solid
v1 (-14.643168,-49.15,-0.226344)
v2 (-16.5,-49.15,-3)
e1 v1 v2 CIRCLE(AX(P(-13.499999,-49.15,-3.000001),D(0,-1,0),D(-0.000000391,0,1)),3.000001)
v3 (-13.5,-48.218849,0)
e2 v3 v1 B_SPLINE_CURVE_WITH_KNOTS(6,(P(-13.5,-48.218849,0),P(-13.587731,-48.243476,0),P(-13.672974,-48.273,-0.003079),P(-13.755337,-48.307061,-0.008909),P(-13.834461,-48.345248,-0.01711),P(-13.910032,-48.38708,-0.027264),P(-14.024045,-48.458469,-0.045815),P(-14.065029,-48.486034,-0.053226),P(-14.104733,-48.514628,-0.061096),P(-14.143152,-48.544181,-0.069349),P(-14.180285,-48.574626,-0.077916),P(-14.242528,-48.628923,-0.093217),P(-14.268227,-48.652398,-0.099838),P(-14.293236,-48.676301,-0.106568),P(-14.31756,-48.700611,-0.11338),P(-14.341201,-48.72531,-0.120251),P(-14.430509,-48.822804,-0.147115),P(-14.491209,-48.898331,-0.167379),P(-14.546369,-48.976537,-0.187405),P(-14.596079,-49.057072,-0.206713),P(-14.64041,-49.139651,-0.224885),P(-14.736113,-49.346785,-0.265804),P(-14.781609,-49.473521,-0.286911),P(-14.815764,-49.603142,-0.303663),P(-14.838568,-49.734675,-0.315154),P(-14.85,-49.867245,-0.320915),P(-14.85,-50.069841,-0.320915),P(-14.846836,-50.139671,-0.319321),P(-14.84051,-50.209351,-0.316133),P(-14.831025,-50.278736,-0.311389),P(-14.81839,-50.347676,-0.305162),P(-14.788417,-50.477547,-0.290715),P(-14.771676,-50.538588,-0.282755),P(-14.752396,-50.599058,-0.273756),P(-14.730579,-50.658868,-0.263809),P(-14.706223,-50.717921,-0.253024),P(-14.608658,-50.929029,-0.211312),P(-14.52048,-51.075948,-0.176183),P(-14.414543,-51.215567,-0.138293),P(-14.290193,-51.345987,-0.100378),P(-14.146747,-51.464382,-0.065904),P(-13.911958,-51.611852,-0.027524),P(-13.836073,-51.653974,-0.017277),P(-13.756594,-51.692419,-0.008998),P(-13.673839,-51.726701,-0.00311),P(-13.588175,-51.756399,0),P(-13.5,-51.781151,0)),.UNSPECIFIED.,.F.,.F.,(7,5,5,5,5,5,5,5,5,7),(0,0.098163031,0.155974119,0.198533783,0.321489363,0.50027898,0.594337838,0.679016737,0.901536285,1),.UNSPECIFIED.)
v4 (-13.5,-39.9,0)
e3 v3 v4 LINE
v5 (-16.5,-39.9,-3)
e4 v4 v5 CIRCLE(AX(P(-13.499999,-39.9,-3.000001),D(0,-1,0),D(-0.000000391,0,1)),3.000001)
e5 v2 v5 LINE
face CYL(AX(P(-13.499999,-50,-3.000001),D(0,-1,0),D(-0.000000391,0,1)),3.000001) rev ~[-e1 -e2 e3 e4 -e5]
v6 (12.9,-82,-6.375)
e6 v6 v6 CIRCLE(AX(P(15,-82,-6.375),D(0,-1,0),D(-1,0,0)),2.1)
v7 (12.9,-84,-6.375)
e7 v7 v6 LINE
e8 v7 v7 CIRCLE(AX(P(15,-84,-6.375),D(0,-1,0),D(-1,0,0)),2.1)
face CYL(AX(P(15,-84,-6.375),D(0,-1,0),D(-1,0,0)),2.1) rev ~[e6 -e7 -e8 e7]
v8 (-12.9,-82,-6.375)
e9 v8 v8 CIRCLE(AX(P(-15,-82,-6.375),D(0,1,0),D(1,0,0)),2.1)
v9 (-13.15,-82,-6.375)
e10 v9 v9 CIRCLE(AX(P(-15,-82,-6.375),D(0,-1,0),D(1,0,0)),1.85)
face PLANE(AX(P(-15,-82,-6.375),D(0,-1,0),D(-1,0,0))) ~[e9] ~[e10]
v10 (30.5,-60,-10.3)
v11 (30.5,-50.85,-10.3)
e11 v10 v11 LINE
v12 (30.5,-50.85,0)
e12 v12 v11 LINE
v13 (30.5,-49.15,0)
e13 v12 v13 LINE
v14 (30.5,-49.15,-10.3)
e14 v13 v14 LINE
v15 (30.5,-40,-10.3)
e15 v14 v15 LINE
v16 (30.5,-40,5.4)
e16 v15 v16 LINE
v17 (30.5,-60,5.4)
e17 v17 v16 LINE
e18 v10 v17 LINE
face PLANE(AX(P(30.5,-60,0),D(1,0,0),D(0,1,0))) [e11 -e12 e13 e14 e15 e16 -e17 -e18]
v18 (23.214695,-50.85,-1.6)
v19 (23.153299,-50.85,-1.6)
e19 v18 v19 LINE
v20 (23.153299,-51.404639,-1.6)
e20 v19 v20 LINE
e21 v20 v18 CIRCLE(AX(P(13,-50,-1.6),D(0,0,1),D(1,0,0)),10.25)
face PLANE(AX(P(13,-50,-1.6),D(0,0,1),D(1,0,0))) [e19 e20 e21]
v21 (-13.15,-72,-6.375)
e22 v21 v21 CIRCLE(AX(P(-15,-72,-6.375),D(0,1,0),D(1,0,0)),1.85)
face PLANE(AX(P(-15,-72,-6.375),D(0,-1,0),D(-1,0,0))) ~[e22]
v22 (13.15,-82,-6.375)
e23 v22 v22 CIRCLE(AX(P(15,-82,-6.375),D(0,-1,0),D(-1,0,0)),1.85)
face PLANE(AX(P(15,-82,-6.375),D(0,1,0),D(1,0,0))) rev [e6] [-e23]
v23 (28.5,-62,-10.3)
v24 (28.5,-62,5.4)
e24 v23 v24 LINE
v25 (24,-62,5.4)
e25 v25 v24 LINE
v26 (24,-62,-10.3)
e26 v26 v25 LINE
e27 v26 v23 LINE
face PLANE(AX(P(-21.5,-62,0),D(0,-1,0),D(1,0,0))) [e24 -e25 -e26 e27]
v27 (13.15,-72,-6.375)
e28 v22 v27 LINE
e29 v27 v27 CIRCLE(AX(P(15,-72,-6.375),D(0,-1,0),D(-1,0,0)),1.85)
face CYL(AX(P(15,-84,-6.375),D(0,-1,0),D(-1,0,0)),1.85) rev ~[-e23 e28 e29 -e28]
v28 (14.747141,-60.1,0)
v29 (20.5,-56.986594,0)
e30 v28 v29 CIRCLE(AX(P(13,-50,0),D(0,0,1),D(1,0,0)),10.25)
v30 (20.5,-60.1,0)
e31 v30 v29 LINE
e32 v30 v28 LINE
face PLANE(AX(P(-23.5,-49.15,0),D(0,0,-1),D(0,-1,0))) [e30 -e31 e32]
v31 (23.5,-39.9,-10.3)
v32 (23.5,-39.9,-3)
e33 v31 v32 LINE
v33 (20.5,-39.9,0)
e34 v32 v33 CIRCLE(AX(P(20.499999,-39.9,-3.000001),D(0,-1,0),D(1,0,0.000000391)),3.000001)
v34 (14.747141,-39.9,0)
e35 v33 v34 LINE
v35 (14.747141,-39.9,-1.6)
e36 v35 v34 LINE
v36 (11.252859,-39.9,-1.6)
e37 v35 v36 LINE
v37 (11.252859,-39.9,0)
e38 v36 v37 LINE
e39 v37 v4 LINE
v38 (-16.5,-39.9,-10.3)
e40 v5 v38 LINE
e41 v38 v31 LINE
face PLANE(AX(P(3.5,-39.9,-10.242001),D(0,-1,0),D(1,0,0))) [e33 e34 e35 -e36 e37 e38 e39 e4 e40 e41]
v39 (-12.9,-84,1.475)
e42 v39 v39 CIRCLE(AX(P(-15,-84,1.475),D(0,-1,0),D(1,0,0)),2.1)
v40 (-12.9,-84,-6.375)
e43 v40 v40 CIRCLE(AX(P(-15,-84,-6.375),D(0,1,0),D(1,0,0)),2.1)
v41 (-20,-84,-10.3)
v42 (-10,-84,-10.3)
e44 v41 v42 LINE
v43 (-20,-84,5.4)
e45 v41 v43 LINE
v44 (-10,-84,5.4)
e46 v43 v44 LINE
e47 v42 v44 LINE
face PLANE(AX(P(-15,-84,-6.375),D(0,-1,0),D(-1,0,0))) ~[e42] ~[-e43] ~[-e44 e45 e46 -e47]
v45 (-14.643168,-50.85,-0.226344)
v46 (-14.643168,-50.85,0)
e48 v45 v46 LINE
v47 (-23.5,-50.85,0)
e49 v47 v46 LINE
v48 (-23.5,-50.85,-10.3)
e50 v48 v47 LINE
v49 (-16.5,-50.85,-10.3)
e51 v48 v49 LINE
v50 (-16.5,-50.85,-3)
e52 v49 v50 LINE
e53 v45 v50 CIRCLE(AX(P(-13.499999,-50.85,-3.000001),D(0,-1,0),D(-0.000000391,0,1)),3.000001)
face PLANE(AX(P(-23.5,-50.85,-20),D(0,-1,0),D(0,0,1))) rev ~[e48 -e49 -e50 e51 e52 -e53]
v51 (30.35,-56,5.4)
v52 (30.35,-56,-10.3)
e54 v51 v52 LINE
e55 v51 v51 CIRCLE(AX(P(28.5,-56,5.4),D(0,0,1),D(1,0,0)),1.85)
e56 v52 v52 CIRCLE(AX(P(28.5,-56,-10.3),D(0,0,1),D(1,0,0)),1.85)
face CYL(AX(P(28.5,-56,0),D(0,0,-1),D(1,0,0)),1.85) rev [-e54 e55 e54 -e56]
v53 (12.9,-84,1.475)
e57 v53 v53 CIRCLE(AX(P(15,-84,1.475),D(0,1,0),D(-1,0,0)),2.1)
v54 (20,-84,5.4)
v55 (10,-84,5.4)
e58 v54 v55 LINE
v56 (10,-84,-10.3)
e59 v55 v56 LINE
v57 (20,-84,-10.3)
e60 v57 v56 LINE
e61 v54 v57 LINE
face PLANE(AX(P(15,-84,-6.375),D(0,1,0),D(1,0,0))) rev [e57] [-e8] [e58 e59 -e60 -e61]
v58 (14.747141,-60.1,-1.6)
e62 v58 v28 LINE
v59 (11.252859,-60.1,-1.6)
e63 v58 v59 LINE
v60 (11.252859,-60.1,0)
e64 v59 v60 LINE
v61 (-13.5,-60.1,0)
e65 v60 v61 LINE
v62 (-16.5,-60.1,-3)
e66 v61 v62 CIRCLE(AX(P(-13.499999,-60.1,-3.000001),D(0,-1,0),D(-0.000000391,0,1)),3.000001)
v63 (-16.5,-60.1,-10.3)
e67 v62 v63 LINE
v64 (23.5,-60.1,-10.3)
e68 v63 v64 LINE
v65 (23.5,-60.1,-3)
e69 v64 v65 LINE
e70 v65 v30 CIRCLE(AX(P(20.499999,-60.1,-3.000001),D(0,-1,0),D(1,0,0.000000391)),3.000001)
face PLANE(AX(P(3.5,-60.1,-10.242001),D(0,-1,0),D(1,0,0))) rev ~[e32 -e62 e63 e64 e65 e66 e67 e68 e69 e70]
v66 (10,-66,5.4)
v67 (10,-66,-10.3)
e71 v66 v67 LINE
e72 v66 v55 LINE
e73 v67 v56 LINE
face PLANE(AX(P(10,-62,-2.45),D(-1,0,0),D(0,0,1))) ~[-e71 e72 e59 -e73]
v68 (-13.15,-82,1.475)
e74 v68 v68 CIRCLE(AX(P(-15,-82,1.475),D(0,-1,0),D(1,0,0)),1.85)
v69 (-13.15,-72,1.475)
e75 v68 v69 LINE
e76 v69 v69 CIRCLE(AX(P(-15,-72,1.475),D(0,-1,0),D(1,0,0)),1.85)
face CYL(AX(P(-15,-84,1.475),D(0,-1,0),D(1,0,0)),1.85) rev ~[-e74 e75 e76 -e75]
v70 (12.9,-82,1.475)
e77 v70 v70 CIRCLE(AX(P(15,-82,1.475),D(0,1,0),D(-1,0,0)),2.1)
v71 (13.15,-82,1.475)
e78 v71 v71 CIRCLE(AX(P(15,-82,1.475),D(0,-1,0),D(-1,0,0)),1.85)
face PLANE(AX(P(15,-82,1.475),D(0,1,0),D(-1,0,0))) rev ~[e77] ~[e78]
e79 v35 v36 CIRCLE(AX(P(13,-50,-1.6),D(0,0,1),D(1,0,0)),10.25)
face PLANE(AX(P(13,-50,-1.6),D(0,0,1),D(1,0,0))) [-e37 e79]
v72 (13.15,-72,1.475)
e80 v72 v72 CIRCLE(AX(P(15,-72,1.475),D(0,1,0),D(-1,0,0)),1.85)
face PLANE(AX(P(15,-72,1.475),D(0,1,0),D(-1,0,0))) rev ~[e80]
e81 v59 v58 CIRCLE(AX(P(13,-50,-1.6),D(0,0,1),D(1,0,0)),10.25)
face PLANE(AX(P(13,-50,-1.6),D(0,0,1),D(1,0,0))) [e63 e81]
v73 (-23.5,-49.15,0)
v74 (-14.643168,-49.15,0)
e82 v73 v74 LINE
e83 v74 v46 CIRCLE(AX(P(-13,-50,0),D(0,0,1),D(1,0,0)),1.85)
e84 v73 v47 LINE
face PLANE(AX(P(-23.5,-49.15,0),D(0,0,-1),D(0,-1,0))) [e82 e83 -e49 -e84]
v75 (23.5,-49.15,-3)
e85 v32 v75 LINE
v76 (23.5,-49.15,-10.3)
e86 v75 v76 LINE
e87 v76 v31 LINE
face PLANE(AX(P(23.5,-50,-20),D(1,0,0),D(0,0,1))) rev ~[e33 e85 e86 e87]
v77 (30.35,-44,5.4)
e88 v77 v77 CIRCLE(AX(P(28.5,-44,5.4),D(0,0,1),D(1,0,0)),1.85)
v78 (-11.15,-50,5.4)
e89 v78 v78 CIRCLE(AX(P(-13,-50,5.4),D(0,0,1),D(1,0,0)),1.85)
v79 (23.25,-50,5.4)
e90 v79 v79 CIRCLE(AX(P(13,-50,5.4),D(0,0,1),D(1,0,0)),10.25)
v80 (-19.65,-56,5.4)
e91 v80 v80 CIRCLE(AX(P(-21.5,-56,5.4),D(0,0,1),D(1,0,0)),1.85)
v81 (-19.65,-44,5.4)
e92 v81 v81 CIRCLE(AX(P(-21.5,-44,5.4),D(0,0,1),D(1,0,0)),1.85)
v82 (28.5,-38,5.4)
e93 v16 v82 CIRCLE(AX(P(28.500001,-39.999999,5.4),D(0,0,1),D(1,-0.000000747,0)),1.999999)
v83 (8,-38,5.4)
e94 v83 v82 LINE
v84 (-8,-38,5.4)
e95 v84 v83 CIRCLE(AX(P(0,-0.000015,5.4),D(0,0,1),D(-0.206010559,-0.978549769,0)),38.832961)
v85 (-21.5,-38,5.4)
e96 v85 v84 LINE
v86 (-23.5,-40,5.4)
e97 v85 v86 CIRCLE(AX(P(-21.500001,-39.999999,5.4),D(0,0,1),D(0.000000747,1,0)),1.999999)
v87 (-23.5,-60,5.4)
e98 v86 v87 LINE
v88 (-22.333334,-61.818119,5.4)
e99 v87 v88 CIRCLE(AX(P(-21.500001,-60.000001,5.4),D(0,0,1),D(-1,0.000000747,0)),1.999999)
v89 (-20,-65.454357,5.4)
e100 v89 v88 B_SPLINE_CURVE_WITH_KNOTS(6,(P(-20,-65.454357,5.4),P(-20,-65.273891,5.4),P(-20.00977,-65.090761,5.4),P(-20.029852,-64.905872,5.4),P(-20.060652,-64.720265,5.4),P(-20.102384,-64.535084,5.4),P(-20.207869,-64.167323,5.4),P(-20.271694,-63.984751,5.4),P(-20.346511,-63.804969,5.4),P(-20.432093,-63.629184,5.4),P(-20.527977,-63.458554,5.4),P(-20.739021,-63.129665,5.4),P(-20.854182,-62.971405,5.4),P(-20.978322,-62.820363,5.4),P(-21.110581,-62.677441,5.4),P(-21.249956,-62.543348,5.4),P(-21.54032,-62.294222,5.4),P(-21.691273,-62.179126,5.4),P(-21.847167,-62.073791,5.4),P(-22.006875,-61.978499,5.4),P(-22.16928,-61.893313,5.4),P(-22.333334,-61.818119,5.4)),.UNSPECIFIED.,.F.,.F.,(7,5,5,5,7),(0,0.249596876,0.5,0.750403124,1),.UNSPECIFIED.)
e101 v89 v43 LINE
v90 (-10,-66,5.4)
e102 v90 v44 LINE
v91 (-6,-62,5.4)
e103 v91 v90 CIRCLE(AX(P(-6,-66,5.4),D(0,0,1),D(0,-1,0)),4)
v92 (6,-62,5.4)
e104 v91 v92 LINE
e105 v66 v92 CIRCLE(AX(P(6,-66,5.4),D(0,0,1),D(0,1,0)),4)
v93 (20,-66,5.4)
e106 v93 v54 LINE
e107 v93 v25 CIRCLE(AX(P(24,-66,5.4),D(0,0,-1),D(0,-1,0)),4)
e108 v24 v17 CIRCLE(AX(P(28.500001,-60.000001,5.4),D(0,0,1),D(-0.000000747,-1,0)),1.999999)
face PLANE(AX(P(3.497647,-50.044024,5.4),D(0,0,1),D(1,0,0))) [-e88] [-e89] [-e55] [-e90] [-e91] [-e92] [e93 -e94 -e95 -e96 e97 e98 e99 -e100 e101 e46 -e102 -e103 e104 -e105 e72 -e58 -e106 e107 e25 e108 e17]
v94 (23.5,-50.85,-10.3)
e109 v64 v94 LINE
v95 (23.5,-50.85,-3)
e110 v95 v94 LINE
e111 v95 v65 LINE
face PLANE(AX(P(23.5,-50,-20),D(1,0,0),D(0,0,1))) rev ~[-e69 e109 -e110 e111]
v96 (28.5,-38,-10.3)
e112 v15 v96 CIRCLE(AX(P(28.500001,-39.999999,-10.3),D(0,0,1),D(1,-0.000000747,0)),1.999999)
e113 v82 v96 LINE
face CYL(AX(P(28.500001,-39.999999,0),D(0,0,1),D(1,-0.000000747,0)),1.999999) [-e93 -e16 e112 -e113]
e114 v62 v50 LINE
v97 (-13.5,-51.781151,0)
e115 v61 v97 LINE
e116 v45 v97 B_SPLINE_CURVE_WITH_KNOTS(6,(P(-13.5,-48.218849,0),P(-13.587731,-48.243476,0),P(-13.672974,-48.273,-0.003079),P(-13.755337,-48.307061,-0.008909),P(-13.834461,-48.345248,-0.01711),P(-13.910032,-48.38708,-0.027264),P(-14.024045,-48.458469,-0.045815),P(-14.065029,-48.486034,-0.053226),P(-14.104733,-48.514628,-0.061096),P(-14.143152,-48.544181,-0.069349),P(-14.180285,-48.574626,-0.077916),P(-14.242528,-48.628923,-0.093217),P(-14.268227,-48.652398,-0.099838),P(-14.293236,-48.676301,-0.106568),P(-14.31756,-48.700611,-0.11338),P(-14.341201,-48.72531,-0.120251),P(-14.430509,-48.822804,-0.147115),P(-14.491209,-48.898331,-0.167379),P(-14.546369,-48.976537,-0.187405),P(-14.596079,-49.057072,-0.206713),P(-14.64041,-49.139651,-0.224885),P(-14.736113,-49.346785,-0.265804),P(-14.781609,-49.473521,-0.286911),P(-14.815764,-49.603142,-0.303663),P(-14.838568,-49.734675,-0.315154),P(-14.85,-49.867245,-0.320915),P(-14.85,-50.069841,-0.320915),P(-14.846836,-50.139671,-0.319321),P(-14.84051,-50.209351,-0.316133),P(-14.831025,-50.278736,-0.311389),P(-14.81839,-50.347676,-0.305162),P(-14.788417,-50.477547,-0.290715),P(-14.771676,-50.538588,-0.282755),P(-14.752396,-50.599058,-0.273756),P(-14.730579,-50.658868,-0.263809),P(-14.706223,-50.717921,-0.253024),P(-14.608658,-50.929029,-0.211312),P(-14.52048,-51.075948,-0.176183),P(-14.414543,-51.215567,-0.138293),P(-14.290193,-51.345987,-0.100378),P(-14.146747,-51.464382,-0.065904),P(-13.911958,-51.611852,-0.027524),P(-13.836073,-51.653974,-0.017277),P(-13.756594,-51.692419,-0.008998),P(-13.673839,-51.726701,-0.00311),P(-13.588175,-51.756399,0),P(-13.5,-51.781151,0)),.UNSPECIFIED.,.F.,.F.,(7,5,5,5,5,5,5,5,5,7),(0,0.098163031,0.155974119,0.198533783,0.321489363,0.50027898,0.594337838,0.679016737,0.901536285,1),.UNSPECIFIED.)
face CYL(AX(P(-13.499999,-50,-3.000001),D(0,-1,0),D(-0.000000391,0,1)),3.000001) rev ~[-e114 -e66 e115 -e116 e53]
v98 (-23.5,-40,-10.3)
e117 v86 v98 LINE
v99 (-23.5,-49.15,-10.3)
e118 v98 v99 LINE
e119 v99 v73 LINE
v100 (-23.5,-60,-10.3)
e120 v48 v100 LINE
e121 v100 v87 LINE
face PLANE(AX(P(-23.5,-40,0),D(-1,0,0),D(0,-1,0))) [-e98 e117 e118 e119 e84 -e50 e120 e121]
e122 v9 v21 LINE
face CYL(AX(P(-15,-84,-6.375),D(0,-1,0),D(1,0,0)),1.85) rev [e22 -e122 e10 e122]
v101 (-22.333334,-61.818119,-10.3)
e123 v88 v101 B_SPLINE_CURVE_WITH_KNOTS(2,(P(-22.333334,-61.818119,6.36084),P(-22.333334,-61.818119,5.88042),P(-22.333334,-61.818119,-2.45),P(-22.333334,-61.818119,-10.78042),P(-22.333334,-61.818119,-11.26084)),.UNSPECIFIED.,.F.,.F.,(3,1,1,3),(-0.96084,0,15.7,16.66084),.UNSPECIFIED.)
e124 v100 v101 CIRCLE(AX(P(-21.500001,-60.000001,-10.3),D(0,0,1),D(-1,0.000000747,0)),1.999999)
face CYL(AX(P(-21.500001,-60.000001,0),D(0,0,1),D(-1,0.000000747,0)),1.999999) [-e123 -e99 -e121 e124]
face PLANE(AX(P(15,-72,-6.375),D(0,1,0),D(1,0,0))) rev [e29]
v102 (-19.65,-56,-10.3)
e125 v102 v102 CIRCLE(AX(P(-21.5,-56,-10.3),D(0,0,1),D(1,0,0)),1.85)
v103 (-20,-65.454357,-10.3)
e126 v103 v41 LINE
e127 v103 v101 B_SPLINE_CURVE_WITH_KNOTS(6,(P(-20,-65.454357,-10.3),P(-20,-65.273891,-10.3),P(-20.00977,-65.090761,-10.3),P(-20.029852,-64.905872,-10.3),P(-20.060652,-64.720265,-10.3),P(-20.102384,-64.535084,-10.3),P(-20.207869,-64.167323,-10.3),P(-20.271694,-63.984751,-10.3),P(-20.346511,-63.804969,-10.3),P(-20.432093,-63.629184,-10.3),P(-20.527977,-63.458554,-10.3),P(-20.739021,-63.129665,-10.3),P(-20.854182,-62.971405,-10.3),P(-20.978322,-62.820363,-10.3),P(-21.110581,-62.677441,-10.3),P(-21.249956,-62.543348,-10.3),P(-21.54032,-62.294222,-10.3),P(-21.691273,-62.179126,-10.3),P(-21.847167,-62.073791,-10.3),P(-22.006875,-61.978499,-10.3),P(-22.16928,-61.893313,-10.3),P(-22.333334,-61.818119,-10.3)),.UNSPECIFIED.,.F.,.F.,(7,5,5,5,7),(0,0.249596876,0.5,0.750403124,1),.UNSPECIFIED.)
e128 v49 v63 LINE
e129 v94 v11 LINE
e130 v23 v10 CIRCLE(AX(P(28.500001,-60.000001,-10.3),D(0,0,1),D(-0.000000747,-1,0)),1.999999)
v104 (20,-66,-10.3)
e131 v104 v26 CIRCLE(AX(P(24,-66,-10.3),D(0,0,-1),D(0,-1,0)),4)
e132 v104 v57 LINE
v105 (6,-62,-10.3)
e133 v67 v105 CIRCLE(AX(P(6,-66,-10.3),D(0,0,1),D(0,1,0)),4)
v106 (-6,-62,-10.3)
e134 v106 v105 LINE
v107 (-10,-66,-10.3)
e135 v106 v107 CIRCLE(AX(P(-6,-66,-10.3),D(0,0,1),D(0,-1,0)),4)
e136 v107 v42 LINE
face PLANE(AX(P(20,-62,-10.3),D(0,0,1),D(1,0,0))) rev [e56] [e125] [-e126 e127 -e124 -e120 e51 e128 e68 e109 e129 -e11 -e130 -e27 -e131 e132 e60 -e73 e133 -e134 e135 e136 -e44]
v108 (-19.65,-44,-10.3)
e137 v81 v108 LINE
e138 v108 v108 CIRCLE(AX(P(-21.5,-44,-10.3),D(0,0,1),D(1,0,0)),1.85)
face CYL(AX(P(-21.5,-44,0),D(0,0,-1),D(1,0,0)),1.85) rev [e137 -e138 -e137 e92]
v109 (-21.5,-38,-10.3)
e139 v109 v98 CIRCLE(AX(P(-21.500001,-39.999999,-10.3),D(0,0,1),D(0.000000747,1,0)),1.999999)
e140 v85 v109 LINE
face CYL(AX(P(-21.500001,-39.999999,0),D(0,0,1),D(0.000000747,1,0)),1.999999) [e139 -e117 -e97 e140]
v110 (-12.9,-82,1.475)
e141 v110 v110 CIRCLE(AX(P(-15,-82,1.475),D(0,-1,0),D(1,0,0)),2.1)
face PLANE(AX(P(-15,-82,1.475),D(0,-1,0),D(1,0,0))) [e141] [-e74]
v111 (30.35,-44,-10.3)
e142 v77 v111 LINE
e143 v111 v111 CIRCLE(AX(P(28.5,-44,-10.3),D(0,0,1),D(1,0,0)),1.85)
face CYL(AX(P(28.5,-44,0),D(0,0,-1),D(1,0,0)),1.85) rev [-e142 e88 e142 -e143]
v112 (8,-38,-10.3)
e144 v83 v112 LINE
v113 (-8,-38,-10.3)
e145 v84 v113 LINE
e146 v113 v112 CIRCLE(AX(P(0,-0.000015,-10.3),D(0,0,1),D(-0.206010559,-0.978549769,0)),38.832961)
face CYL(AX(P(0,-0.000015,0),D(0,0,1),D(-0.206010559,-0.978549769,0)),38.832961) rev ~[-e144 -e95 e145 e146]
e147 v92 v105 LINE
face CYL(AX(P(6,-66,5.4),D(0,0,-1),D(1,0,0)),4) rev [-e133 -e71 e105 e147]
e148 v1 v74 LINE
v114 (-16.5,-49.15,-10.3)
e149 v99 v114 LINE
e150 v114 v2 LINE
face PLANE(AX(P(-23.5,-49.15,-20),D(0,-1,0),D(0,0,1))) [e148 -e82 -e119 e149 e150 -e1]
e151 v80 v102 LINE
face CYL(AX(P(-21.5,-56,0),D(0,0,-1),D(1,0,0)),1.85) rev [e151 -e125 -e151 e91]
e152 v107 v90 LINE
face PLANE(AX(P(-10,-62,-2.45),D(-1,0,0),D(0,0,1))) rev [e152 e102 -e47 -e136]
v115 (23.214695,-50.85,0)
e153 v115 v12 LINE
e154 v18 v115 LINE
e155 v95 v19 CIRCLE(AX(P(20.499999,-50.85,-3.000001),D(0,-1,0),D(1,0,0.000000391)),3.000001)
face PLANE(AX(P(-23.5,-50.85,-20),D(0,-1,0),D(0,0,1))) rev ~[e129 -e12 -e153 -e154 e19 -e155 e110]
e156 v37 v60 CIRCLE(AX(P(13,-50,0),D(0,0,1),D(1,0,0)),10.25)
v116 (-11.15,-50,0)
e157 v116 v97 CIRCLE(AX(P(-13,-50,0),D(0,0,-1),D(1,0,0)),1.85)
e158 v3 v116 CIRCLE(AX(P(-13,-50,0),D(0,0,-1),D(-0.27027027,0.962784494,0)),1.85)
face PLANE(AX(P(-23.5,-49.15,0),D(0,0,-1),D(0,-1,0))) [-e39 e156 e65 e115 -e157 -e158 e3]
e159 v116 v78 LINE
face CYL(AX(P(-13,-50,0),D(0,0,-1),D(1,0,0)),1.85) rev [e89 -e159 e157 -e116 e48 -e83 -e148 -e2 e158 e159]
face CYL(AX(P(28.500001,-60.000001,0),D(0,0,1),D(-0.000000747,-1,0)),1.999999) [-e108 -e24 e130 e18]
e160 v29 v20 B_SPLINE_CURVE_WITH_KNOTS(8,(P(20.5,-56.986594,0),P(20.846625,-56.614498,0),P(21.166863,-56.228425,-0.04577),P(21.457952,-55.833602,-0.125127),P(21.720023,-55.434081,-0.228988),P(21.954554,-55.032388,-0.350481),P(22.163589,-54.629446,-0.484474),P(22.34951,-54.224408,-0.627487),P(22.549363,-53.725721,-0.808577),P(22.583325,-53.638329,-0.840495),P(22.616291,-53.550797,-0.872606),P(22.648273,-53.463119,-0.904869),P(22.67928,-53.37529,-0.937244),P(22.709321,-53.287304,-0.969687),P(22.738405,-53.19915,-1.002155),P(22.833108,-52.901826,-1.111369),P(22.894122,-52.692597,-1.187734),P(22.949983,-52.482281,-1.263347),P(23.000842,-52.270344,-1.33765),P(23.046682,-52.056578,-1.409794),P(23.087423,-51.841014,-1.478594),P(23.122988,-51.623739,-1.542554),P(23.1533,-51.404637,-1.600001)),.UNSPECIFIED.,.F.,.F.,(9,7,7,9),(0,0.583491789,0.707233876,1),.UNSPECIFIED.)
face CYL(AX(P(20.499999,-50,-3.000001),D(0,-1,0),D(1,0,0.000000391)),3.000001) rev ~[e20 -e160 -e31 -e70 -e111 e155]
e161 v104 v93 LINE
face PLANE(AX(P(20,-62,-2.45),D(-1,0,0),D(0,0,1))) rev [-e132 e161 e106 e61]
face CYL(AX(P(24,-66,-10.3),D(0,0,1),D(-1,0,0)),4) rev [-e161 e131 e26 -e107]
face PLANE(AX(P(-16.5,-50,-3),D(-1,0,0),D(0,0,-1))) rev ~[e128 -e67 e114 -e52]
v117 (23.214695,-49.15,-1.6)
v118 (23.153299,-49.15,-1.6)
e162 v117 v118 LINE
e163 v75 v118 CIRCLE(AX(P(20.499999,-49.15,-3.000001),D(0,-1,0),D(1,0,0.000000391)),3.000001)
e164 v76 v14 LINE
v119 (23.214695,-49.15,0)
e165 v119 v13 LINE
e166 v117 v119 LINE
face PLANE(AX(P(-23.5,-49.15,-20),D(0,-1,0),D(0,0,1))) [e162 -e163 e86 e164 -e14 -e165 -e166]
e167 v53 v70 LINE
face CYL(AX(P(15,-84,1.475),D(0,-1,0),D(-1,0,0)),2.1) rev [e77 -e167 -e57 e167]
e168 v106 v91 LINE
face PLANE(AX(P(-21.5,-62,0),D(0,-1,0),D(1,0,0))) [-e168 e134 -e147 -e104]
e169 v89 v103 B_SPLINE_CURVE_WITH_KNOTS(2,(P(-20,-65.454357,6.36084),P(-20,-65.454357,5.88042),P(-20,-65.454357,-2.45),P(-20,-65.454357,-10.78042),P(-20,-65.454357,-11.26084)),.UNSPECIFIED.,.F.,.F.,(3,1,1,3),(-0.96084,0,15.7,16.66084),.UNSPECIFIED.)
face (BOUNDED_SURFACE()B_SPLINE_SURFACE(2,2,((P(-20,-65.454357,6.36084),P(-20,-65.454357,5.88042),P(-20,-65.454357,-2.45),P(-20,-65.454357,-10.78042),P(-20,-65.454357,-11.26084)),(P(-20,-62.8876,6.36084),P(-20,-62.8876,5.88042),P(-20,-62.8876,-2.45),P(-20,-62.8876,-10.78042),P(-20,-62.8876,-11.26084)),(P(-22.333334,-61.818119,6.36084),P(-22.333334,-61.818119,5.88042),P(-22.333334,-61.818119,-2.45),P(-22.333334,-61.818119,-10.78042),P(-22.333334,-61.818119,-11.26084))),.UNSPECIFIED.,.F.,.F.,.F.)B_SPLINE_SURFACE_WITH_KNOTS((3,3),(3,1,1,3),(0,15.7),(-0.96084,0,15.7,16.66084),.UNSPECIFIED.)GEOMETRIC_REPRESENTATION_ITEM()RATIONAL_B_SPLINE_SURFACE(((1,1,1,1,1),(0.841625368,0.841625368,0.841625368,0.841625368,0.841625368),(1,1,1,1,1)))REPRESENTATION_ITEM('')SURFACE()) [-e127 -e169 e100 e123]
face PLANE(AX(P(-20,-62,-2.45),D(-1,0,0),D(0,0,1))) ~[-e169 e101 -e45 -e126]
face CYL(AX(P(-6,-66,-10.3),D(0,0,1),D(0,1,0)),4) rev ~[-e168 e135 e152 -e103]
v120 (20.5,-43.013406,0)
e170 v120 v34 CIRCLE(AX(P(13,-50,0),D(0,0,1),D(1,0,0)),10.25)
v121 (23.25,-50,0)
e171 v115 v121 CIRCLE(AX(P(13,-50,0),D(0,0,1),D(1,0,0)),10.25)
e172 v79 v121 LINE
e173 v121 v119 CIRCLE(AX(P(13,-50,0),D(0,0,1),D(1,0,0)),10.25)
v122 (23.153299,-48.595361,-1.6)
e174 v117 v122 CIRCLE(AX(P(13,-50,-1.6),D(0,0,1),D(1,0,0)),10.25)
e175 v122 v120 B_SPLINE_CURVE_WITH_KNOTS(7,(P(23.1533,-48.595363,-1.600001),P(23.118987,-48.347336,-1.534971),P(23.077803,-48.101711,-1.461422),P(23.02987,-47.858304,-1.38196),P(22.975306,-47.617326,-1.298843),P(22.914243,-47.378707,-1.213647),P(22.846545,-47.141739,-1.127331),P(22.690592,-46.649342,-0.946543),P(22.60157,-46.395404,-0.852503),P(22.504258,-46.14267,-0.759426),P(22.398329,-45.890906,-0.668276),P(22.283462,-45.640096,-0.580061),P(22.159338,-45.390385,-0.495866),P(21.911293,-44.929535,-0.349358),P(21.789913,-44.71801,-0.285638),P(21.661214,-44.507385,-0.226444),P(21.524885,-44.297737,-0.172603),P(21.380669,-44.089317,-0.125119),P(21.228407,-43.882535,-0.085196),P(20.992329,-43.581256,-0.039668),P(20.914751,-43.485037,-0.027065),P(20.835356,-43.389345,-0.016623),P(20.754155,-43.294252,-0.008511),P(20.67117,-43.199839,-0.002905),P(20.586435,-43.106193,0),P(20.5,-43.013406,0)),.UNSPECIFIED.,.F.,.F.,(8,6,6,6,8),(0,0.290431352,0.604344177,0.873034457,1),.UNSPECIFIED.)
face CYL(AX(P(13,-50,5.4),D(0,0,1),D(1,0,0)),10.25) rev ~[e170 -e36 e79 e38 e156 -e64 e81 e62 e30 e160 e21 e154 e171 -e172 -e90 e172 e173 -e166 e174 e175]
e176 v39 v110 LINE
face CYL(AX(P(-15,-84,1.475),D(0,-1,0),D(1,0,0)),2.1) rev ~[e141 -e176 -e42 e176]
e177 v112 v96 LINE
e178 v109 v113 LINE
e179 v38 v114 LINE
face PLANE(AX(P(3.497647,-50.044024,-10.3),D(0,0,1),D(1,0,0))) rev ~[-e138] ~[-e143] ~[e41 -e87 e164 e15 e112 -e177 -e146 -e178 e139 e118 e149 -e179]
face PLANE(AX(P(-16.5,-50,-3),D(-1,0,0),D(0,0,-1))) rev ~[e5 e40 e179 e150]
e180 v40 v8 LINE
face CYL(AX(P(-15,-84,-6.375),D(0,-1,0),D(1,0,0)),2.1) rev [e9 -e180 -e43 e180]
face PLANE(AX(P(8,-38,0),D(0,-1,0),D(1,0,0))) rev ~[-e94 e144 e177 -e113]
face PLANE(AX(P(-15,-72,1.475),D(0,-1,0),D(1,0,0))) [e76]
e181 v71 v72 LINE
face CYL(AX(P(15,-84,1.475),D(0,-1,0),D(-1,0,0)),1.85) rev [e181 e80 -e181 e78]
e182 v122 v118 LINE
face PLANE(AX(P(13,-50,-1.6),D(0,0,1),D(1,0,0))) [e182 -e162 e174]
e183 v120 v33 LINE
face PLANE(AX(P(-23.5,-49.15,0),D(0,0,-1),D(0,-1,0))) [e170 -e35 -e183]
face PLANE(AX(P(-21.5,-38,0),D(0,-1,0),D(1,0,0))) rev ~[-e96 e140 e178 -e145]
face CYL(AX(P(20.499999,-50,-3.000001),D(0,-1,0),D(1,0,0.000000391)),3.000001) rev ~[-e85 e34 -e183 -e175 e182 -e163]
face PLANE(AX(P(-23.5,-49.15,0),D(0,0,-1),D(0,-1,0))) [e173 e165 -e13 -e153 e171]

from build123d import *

# Parameters (mm, degrees)
SKETCH035_R                   = 7
SKETCH035_R_2                 = 1.85
PAD021_DEPTH                  = 5.4
PAD021_DEPTH_BACK             = 10.3
POCKET019_DEPTH               = 10.1
SKETCH039_W                   = 1.7
SKETCH039_H                   = 20
POCKET020_DEPTH               = 54.001
SKETCH043_R                   = 10.25
POCKET023_DEPTH               = 7
SKETCH044_W                   = 10
SKETCH044_H                   = 7.85
PAD025_DEPTH                  = 22
SKETCH045_R                   = 1.85
POCKET024_DEPTH               = 12
SKETCH046_R                   = 2.1
POCKET025_DEPTH               = 2
SKETCH044_MIRRORED002_2_W     = 10
SKETCH044_MIRRORED002_2_H     = 7.85
PAD025_MIRRORED002_2_DEPTH    = 22
SKETCH045_MIRRORED002_2_R     = 1.85
POCKET024_MIRRORED002_2_DEPTH = 12
SKETCH046_MIRRORED002_2_R     = 2.1
POCKET025_MIRRORED002_2_DEPTH = 2
FILLET009_R                   = 4


with BuildPart() as part:
    # Sketch035 → Pad021 (new body, two sides)
    with BuildSketch(Plane.XY) as pad021_sk:
        with BuildLine():
            Line((-23.5, 10), (-23.5, -10))
            ThreePointArc((-23.5, -10), (-22.914214, -11.414214), (-21.5, -12))
            Line((-21.5, -12), (28.5, -12))
            ThreePointArc((28.5, -12), (29.914214, -11.414214), (30.5, -10))
            Line((30.5, -10), (30.5, 10))
            ThreePointArc((30.5, 10), (29.914214, 11.414214), (28.5, 12))
            Line((8, 12), (28.5, 12))
            ThreePointArc((-8, 12), (0, 11.167024), (8, 12))
            Line((-21.5, 12), (-8, 12))
            ThreePointArc((-21.5, 12), (-22.914214, 11.414214), (-23.5, 10))
        make_face()
        with Locations((13, 0)):
            Circle(SKETCH035_R, mode=Mode.SUBTRACT)
        with Locations((-21.5, 6)):
            Circle(SKETCH035_R_2, mode=Mode.SUBTRACT)
        with Locations((-21.5, -6)):
            Circle(SKETCH035_R_2, mode=Mode.SUBTRACT)
        with Locations((28.5, 6)):
            Circle(SKETCH035_R_2, mode=Mode.SUBTRACT)
        with Locations((28.5, -6)):
            Circle(SKETCH035_R_2, mode=Mode.SUBTRACT)
        with Locations((-13, 0)):
            Circle(SKETCH035_R_2, mode=Mode.SUBTRACT)
    extrude(amount=PAD021_DEPTH)
    extrude(pad021_sk.sketch, amount=-PAD021_DEPTH_BACK)

    # Sketch038 → Pocket019 (cut, symmetric)
    with BuildSketch(Plane.XZ):
        with BuildLine():
            Line((-16.5, -3), (-16.5, -20))
            Line((-16.5, -20), (23.5, -20))
            Line((23.5, -20), (23.5, -3))
            ThreePointArc((23.5, -3), (22.62132, -0.87868), (20.5, 0))
            Line((20.5, 0), (-13.5, 0))
            ThreePointArc((-13.5, 0), (-15.62132, -0.87868), (-16.5, -3))
        make_face()
    extrude(amount=POCKET019_DEPTH, both=True, mode=Mode.SUBTRACT)

    # Sketch039 (on Face3 of Pocket019) → Pocket020 (cut, through all)
    with BuildSketch(Plane(origin=(-23.5, 0, 0), x_dir=(0, -1, 0), z_dir=(-1, 0, 0))):
        with Locations((0, -10)):
            Rectangle(SKETCH039_W, SKETCH039_H)
    extrude(amount=-POCKET020_DEPTH, mode=Mode.SUBTRACT)

    # Sketch043 (on Face5 of Pocket020) → Pocket023 (cut)
    with BuildSketch(Plane.XY.offset(5.4)):
        with Locations((13, 0)):
            Circle(SKETCH043_R)
    extrude(amount=-POCKET023_DEPTH, mode=Mode.SUBTRACT)

    # Sketch044 → Pad025 (join)
    with BuildSketch(Plane(origin=(0, -12, -2.45), x_dir=(1, 0, 0), z_dir=(0, -1, 0))):
        with Locations((-15, 3.925)):
            Rectangle(SKETCH044_W, SKETCH044_H)
    pad025 = extrude(amount=PAD025_DEPTH)

    # Sketch045 (on Face43 of Pad025) → Pocket024 (cut)
    with BuildSketch(Plane.XZ.offset(34)):
        with Locations((-15, 1.475)):
            Circle(SKETCH045_R)
    pocket024 = extrude(amount=-POCKET024_DEPTH, mode=Mode.SUBTRACT)

    # Sketch046 (on Face43 of Pocket024) → Pocket025 (cut)
    with BuildSketch(Plane.XZ.offset(34)):
        with Locations((-15, 1.475)):
            Circle(SKETCH046_R)
    pocket025 = extrude(amount=-POCKET025_DEPTH, mode=Mode.SUBTRACT)

    # Sketch044 Mirrored002 2 → Pad025 Mirrored002 2 (add)
    with BuildSketch(Plane(origin=(0, -12, -2.45), x_dir=(-1, 0, 0), z_dir=(0, 1, 0))):
        with Locations((-15, 3.925)):
            Rectangle(SKETCH044_MIRRORED002_2_W, SKETCH044_MIRRORED002_2_H)
    pad025_mirrored002_2 = extrude(amount=-PAD025_MIRRORED002_2_DEPTH)

    # Sketch045 Mirrored002 2 → Pocket024 Mirrored002 2 (cut)
    with BuildSketch(Plane(origin=(0, -34, 0), x_dir=(-1, 0, 0), z_dir=(0, 1, 0))):
        with Locations((-15, 1.475)):
            Circle(SKETCH045_MIRRORED002_2_R)
    pocket024_mirrored002_2 = extrude(amount=POCKET024_MIRRORED002_2_DEPTH, mode=Mode.SUBTRACT)

    # Sketch046 Mirrored002 2 → Pocket025 Mirrored002 2 (cut)
    with BuildSketch(Plane(origin=(0, -34, 0), x_dir=(-1, 0, 0), z_dir=(0, 1, 0))):
        with Locations((-15, 1.475)):
            Circle(SKETCH046_MIRRORED002_2_R)
    pocket025_mirrored002_2 = extrude(amount=POCKET025_MIRRORED002_2_DEPTH, mode=Mode.SUBTRACT)

    # Mirrored003: Pad025, Pocket024, Pocket025, Pad025 Mirrored002 2, Pocket024 Mirrored002 2, Pocket025 Mirrored002 2 across Sketch044 H_Axis
    add(pad025.mirror(Plane(origin=(0, -12, -2.45), x_dir=(0, -1, 0), z_dir=(0, 0, 1))))
    add(pocket024.mirror(Plane(origin=(0, -12, -2.45), x_dir=(0, -1, 0), z_dir=(0, 0, 1))), mode=Mode.SUBTRACT)
    add(pocket025.mirror(Plane(origin=(0, -12, -2.45), x_dir=(0, -1, 0), z_dir=(0, 0, 1))), mode=Mode.SUBTRACT)
    add(pad025_mirrored002_2.mirror(Plane(origin=(0, -12, -2.45), x_dir=(0, -1, 0), z_dir=(0, 0, 1))))
    add(pocket024_mirrored002_2.mirror(Plane(origin=(0, -12, -2.45), x_dir=(0, -1, 0), z_dir=(0, 0, 1))), mode=Mode.SUBTRACT)
    add(pocket025_mirrored002_2.mirror(Plane(origin=(0, -12, -2.45), x_dir=(0, -1, 0), z_dir=(0, 0, 1))), mode=Mode.SUBTRACT)

    # Fillet009
    fillet009_edges = [part.edges().sort_by_distance(p)[0] for p in [
        (-20, -12, -2.45),
        (-10, -12, -2.45),
        (10, -12, -2.45),
        (20, -12, -2.45),
    ]]
    fillet(fillet009_edges, radius=FILLET009_R)


with BuildPart() as part_1:
    # Body009 placement: moved
    add(part.part.moved(Location((0, -50, 0))))


solid = part_1.part
